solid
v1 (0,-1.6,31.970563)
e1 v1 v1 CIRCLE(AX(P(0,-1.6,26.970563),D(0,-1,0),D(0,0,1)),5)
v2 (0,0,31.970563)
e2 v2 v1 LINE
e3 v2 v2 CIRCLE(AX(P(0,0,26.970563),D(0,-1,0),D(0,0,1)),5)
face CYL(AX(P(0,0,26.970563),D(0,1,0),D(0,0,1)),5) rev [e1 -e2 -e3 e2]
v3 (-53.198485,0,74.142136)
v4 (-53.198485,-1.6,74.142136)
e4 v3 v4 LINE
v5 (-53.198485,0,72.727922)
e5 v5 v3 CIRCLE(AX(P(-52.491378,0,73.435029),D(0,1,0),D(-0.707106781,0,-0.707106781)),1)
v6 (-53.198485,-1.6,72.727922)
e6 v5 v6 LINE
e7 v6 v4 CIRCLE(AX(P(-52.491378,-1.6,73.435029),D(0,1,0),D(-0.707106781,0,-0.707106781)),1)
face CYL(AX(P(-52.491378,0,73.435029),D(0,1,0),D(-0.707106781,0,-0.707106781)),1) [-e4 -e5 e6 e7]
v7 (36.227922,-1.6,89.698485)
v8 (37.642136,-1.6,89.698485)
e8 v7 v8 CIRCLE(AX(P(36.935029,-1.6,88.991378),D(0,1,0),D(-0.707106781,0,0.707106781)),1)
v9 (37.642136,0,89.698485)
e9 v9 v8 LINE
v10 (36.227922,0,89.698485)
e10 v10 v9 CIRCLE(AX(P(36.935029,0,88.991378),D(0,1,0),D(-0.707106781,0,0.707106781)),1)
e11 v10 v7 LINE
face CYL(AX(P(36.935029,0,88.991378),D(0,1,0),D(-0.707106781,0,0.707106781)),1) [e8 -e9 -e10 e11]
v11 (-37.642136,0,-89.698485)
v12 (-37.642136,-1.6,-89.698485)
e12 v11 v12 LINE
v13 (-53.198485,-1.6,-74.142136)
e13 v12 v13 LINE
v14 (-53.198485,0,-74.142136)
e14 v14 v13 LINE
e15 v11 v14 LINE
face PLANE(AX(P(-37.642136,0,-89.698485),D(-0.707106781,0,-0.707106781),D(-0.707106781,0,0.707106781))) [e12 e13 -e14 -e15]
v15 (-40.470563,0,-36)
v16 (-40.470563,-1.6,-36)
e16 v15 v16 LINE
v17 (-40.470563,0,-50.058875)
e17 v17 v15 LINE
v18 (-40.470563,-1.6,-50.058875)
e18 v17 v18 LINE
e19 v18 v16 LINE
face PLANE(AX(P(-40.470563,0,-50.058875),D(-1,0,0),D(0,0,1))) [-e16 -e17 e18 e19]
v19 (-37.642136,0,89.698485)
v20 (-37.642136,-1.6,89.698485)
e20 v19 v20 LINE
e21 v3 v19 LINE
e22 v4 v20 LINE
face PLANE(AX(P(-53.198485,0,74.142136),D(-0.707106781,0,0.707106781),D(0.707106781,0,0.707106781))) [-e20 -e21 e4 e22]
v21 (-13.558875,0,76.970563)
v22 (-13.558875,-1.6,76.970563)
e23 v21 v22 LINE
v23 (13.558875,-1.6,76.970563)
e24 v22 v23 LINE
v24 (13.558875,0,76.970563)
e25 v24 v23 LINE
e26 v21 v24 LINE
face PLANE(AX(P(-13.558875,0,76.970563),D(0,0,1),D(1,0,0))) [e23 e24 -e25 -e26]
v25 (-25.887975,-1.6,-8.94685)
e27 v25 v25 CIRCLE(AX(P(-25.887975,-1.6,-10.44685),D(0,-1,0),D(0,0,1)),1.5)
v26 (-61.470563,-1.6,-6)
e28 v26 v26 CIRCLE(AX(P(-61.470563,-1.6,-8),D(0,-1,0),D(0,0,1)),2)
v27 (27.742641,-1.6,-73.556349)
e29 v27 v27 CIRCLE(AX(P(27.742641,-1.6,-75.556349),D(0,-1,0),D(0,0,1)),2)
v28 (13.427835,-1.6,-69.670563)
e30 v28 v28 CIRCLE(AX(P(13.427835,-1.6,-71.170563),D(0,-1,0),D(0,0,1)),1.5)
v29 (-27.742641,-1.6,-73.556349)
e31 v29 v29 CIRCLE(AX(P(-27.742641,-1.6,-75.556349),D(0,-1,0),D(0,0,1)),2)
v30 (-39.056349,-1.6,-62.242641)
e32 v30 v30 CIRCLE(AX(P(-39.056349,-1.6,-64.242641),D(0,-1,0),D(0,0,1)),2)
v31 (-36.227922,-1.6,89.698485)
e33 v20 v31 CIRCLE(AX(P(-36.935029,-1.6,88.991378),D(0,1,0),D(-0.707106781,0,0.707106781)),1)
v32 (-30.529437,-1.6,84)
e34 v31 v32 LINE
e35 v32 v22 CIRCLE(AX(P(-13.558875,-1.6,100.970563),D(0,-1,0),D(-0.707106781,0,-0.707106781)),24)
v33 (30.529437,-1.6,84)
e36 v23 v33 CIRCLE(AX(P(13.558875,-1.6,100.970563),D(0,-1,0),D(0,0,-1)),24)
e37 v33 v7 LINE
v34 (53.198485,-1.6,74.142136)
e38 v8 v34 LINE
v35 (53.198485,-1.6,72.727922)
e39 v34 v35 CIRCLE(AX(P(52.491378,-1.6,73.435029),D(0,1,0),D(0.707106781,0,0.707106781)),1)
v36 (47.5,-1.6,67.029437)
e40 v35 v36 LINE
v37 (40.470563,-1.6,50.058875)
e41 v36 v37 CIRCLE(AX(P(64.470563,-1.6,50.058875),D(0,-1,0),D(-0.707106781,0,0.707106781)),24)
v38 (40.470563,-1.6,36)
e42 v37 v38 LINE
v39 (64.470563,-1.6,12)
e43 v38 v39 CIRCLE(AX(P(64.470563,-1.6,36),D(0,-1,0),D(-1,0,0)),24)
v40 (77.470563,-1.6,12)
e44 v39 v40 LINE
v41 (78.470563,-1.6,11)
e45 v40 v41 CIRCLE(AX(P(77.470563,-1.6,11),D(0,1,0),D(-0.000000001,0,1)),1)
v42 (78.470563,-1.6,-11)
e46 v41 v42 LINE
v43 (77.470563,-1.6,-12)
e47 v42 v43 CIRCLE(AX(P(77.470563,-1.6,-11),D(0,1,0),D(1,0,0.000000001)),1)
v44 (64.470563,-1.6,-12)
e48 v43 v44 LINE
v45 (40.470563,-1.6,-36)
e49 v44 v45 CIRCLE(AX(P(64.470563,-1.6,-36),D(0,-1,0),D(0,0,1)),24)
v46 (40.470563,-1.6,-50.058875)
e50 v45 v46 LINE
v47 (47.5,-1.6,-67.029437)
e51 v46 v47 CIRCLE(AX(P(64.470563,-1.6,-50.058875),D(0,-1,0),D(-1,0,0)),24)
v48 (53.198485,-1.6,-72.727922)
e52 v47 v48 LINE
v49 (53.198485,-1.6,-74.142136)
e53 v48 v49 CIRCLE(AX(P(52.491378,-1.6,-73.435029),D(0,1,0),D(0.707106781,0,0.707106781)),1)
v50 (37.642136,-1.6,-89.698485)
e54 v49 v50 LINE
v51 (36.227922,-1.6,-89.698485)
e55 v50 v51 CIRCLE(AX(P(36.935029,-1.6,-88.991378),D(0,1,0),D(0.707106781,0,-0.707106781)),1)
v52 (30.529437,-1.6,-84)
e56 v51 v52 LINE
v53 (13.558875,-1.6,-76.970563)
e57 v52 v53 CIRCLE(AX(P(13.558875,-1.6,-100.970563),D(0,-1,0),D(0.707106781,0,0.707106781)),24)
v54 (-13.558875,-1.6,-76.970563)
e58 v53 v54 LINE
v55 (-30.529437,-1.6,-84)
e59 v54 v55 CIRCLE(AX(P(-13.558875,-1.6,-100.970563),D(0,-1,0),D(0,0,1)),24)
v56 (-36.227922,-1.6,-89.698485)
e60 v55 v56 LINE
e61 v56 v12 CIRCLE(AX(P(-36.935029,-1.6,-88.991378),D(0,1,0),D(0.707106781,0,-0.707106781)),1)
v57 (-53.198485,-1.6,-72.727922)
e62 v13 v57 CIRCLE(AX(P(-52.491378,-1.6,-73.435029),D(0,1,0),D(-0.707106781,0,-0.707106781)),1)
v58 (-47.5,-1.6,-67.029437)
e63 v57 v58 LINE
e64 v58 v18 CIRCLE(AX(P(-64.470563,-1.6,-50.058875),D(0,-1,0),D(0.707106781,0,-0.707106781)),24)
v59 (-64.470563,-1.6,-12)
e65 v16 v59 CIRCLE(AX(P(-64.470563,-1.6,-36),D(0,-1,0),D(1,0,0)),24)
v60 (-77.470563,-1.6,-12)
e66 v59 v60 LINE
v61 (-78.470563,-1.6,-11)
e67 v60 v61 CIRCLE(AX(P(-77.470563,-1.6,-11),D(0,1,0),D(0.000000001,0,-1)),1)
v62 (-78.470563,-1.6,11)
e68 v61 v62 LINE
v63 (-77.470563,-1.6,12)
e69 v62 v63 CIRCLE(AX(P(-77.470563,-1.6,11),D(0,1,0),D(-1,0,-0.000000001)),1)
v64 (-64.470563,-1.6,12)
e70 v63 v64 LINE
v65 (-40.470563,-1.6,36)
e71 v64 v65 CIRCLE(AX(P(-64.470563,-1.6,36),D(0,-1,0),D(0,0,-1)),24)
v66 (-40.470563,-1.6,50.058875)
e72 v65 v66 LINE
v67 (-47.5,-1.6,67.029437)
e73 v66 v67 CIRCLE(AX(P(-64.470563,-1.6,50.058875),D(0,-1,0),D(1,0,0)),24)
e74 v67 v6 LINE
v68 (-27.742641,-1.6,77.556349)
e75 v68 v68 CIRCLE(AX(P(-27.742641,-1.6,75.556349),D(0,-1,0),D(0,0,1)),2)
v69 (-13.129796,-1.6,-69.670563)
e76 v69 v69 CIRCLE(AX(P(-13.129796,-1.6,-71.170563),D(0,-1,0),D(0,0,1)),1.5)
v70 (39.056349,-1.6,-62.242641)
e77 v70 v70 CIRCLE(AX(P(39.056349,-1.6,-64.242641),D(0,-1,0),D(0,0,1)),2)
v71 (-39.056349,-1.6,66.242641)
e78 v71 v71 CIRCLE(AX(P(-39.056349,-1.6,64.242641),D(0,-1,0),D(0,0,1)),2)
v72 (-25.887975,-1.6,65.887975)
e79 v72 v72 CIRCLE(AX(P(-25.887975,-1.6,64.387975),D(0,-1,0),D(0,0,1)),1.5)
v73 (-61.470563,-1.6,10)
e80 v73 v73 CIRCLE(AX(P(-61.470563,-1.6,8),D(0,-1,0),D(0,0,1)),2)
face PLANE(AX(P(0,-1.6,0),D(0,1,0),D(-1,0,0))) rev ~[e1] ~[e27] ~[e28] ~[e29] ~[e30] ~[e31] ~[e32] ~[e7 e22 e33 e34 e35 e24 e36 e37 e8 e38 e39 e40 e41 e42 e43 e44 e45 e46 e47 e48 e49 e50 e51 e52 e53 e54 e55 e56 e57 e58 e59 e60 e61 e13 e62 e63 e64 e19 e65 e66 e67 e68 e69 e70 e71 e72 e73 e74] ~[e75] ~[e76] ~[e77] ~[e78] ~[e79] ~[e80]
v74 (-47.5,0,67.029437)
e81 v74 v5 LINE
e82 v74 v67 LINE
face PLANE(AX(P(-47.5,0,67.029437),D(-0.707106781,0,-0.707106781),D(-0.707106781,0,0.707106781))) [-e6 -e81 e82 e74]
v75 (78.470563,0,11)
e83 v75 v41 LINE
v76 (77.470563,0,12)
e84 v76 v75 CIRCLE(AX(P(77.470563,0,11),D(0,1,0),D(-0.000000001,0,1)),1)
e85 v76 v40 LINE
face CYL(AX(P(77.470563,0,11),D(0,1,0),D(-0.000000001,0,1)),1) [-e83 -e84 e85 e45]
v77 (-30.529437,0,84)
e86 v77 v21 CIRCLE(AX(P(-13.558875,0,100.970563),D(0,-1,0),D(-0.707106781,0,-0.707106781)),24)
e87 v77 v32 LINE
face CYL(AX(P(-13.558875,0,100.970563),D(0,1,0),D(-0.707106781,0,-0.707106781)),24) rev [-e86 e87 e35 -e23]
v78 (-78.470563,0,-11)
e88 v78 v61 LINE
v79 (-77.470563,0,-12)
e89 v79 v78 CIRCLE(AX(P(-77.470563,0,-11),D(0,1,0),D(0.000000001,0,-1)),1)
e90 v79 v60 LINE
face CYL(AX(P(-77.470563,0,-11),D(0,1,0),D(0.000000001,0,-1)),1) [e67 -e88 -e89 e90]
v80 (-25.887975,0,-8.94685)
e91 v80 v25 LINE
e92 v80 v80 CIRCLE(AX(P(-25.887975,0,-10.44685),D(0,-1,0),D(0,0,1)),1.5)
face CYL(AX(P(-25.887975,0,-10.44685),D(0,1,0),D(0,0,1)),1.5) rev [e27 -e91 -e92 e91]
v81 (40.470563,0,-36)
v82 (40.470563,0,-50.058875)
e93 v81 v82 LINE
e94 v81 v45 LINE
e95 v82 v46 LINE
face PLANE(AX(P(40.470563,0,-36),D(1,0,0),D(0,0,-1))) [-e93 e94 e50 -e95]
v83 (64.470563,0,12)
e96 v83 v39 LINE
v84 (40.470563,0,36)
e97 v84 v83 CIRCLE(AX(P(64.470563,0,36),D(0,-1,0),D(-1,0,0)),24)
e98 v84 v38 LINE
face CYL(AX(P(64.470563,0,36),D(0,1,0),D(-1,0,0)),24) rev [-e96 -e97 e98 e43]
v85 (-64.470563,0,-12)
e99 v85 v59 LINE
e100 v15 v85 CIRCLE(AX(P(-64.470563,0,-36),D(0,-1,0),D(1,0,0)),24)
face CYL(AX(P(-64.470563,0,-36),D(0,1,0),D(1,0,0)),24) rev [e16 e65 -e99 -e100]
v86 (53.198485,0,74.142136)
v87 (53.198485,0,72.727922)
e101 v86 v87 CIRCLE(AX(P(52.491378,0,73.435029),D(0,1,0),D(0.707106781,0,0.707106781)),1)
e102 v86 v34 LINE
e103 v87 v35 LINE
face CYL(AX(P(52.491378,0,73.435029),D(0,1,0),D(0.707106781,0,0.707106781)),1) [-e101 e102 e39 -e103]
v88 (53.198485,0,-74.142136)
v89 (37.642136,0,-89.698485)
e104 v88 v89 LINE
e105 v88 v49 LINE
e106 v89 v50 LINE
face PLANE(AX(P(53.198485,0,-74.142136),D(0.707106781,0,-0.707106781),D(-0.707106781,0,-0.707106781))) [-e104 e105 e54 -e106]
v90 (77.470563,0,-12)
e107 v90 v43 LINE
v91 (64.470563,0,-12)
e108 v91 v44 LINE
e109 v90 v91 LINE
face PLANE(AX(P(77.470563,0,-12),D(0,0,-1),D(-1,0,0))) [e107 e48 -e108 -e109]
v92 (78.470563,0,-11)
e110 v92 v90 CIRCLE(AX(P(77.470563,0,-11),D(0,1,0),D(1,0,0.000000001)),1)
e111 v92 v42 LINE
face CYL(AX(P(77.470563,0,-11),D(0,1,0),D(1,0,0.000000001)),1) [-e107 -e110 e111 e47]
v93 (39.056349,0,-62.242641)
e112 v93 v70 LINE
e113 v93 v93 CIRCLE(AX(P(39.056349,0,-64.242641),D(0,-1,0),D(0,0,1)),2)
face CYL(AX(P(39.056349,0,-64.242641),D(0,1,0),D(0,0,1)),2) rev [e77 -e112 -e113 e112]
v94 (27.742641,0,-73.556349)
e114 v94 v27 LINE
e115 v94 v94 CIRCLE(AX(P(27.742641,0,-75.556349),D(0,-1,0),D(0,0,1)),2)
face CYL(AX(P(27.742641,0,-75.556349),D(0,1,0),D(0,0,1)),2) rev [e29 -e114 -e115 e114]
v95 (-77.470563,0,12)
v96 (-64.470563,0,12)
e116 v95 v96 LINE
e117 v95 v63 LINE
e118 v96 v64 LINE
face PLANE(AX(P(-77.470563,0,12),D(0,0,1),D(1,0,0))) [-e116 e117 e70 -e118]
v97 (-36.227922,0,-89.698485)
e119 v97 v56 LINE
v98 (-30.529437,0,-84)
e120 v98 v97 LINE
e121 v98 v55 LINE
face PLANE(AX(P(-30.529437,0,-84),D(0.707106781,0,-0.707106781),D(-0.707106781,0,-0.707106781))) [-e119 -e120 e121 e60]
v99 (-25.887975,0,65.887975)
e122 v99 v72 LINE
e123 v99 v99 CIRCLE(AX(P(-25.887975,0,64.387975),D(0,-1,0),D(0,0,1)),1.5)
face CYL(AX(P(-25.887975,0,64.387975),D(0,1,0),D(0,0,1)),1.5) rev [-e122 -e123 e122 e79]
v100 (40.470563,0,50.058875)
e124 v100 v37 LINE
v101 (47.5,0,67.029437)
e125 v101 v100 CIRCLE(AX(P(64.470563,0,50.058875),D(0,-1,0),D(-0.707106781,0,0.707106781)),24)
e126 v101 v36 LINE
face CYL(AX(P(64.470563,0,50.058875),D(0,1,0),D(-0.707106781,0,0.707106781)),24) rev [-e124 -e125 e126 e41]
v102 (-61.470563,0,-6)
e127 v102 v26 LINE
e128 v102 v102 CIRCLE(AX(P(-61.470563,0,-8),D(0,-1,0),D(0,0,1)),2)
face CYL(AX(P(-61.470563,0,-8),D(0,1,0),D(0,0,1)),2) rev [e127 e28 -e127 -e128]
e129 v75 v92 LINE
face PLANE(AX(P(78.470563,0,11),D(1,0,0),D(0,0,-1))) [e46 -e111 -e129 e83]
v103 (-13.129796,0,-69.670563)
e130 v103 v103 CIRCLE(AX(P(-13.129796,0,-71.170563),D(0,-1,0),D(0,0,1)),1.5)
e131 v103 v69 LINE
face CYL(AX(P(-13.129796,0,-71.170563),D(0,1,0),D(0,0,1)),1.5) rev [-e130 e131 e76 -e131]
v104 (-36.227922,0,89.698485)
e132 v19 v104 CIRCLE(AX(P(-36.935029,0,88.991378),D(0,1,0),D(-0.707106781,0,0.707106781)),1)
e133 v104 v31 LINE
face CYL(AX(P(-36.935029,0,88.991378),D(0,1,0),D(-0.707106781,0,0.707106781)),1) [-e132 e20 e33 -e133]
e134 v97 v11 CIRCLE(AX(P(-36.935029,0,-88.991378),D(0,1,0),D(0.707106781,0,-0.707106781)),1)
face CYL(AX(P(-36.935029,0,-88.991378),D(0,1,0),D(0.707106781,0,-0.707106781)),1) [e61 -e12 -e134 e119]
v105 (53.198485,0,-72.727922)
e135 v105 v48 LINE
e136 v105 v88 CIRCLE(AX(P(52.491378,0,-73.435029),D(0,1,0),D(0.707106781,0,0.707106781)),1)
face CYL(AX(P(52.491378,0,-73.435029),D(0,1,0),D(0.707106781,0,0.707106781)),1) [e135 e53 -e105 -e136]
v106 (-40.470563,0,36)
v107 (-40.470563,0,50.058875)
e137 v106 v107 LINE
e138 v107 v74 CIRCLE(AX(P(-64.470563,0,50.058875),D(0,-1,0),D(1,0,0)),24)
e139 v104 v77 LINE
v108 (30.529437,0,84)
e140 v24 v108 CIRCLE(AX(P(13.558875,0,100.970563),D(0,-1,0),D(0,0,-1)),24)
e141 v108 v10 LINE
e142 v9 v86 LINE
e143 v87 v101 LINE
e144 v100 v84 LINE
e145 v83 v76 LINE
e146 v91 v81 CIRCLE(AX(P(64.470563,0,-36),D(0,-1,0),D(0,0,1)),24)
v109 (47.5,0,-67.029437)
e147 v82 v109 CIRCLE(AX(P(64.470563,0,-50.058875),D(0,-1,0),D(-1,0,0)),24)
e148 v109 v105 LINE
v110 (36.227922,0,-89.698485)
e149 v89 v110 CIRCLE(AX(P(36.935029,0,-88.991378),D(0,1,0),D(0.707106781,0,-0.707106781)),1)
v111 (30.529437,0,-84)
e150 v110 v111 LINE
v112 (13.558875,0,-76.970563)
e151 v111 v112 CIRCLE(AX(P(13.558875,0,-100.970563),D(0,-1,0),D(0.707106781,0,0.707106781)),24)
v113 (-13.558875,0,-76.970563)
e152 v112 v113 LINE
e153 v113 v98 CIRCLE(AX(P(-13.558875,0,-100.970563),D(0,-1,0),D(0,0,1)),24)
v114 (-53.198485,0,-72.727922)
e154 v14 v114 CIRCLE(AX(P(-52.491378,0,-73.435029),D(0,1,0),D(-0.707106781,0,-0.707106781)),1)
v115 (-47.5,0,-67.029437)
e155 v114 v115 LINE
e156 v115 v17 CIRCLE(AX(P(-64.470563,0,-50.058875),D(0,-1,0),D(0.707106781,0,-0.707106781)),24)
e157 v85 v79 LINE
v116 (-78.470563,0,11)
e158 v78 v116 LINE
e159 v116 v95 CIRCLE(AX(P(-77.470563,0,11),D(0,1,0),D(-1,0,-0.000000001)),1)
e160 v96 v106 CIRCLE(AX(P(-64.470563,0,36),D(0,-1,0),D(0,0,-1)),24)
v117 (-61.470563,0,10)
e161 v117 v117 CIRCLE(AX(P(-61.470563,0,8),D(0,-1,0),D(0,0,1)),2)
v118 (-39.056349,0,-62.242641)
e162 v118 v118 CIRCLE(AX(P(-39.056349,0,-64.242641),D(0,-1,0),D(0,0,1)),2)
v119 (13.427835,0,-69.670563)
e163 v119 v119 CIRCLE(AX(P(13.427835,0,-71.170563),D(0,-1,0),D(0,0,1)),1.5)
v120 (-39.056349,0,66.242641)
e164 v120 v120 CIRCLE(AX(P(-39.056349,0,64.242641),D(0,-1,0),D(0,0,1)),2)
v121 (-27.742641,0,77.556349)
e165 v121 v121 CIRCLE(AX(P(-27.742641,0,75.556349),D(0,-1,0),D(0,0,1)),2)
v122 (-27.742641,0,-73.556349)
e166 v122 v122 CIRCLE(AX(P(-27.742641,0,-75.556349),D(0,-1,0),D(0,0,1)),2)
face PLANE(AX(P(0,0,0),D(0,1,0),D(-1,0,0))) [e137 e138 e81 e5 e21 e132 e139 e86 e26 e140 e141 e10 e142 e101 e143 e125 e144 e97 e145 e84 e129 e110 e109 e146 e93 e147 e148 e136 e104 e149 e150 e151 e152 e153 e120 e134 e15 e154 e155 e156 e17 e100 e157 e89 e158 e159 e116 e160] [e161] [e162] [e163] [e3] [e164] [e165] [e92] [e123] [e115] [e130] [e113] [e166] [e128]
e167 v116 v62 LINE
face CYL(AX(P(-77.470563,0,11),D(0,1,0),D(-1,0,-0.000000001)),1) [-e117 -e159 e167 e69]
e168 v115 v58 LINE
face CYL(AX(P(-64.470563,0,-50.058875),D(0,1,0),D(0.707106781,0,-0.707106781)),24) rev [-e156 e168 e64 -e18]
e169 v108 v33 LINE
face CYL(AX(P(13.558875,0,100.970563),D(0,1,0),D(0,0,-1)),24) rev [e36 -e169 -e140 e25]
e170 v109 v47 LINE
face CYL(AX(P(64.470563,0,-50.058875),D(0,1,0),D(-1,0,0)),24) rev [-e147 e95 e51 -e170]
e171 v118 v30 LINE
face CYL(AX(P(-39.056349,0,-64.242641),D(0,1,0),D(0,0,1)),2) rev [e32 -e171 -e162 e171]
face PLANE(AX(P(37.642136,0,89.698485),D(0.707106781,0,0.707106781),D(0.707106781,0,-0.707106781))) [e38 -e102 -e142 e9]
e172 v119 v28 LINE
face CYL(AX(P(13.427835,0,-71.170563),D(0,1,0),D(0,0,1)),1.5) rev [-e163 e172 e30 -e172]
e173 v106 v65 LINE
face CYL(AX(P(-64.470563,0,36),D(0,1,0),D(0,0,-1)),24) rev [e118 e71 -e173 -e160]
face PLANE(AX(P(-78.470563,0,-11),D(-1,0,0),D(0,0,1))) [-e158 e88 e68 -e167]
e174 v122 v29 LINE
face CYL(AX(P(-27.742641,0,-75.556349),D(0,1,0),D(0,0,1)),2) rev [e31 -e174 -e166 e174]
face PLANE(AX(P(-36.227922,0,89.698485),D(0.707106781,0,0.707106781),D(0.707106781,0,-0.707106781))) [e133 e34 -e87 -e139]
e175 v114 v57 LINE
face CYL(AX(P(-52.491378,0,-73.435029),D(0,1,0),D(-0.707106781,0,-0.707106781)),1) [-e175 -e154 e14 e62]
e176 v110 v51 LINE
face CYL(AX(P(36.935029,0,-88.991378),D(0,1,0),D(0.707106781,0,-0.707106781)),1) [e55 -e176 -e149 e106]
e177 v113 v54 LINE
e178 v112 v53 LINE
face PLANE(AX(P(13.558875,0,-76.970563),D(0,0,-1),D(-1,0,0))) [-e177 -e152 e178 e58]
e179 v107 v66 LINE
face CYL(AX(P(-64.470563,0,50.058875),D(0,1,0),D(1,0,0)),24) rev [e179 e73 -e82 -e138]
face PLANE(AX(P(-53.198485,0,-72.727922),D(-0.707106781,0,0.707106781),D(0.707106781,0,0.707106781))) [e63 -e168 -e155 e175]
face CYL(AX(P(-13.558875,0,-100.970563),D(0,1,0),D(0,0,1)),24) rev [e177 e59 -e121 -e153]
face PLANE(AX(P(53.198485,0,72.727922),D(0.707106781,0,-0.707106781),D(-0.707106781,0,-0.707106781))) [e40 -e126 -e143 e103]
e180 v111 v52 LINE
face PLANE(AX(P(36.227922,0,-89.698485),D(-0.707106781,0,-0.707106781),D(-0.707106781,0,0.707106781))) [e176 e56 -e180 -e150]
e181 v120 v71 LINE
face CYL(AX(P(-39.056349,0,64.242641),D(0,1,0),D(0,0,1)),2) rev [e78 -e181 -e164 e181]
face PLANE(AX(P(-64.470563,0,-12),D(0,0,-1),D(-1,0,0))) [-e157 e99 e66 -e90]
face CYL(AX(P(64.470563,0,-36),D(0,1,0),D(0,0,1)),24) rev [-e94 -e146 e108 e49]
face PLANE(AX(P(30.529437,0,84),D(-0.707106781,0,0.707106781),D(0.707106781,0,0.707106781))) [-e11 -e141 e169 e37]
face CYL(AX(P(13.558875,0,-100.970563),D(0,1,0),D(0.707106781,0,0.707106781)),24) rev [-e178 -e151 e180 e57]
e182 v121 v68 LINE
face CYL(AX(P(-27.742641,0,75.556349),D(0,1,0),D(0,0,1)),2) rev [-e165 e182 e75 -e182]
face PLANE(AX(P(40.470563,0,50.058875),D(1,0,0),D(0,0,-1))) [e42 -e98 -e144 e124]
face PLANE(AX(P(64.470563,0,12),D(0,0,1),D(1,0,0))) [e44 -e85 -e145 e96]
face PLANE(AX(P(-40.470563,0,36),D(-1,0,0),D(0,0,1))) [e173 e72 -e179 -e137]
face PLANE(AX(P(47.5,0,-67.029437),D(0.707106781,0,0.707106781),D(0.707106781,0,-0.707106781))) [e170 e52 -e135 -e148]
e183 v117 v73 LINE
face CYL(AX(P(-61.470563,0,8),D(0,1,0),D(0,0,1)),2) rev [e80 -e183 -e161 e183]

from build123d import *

# Parameters (mm, degrees)
SKETCH_8_R      = 2
SKETCH_8_R_2    = 5
SKETCH_8_R_3    = 1.5
EXTRUDE_1_DEPTH = 1.6


with BuildPart() as part:
    # 草图8 → 凸台-拉伸1 (new body)
    with BuildSketch(Plane.XZ):
        with BuildLine():
            Line((30.529437252, 84), (36.227922061, 89.69848481))
            ThreePointArc((36.227922061, 89.69848481), (36.935028843, 89.991378029), (37.642135624, 89.69848481))
            Line((37.642135624, 89.69848481), (53.19848481, 74.142135624))
            ThreePointArc((53.19848481, 74.142135624), (53.491378029, 73.435028843), (53.19848481, 72.727922061))
            Line((53.19848481, 72.727922061), (47.5, 67.029437252))
            ThreePointArc((47.5, 67.029437252), (42.297453968, 59.24327688), (40.470562748, 50.058874503))
            Line((40.470562748, 50.058874503), (40.470562748, 36))
            ThreePointArc((40.470562748, 36), (47.5, 19.029437252), (64.470562748, 12))
            Line((64.470562748, 12), (77.470562748, 12))
            ThreePointArc((77.470562748, 12), (78.17766953, 11.707106781), (78.470562748, 11))
            Line((78.470562748, 11), (78.470562748, -11))
            ThreePointArc((78.470562748, -11), (78.17766953, -11.707106781), (77.470562748, -12))
            Line((77.470562748, -12), (64.470562748, -12))
            ThreePointArc((64.470562748, -12), (47.5, -19.029437252), (40.470562748, -36))
            Line((40.470562748, -36), (40.470562748, -50.058874503))
            ThreePointArc((40.470562748, -50.058874503), (42.297453968, -59.24327688), (47.5, -67.029437252))
            Line((47.5, -67.029437252), (53.19848481, -72.727922061))
            ThreePointArc((53.19848481, -72.727922061), (53.491378029, -73.435028843), (53.19848481, -74.142135624))
            Line((53.19848481, -74.142135624), (37.642135624, -89.69848481))
            ThreePointArc((37.642135624, -89.69848481), (36.935028843, -89.991378029), (36.227922061, -89.69848481))
            Line((36.227922061, -89.69848481), (30.529437252, -84))
            ThreePointArc((30.529437252, -84), (22.74327688, -78.797453968), (13.558874503, -76.970562748))
            Line((13.558874503, -76.970562748), (-13.558874503, -76.970562748))
            ThreePointArc((-13.558874503, -76.970562748), (-22.74327688, -78.797453968), (-30.529437252, -84))
            Line((-30.529437252, -84), (-36.227922061, -89.69848481))
            ThreePointArc((-36.227922061, -89.69848481), (-36.935028843, -89.991378029), (-37.642135624, -89.69848481))
            Line((-37.642135624, -89.69848481), (-53.19848481, -74.142135624))
            ThreePointArc((-53.19848481, -74.142135624), (-53.491378029, -73.435028843), (-53.19848481, -72.727922061))
            Line((-53.19848481, -72.727922061), (-47.5, -67.029437252))
            ThreePointArc((-47.5, -67.029437252), (-42.297453968, -59.24327688), (-40.470562748, -50.058874503))
            Line((-40.470562748, -50.058874503), (-40.470562748, -36))
            ThreePointArc((-40.470562748, -36), (-47.5, -19.029437252), (-64.470562748, -12))
            Line((-64.470562748, -12), (-77.470562748, -12))
            ThreePointArc((-77.470562748, -12), (-78.17766953, -11.707106781), (-78.470562748, -11))
            Line((-78.470562748, -11), (-78.470562748, 11))
            ThreePointArc((-78.470562748, 11), (-78.17766953, 11.707106781), (-77.470562748, 12))
            Line((-77.470562748, 12), (-64.470562748, 12))
            ThreePointArc((-64.470562748, 12), (-47.5, 19.029437252), (-40.470562748, 36))
            Line((-40.470562748, 36), (-40.470562748, 50.058874503))
            ThreePointArc((-40.470562748, 50.058874503), (-42.297453968, 59.24327688), (-47.5, 67.029437252))
            Line((-47.5, 67.029437252), (-53.19848481, 72.727922061))
            ThreePointArc((-53.19848481, 72.727922061), (-53.491378029, 73.435028843), (-53.19848481, 74.142135624))
            Line((-53.19848481, 74.142135624), (-37.642135624, 89.69848481))
            ThreePointArc((-37.642135624, 89.69848481), (-36.935028843, 89.991378029), (-36.227922061, 89.69848481))
            Line((-36.227922061, 89.69848481), (-30.529437252, 84))
            ThreePointArc((-30.529437252, 84), (-22.74327688, 78.797453968), (-13.558874503, 76.970562748))
            Line((-13.558874503, 76.970562748), (13.558874503, 76.970562748))
            ThreePointArc((13.558874503, 76.970562748), (22.74327688, 78.797453968), (30.529437252, 84))
        make_face()
        with Locations(Location((-39.056349186, 64.242640687, 0), (0, 0, 90))):
            Circle(SKETCH_8_R, mode=Mode.SUBTRACT)
        with Locations(Location((-27.742640687, 75.556349186, 0), (0, 0, 90))):
            Circle(SKETCH_8_R, mode=Mode.SUBTRACT)
        with Locations(Location((0, 26.970562748, 0), (0, 0, 90))):
            Circle(SKETCH_8_R_2, mode=Mode.SUBTRACT)
        with Locations(Location((-61.470562748, 8, 0), (0, 0, 90))):
            Circle(SKETCH_8_R, mode=Mode.SUBTRACT)
        with Locations(Location((-25.887975085, -10.446849588, 0), (0, 0, 90))):
            Circle(SKETCH_8_R_3, mode=Mode.SUBTRACT)
        with Locations(Location((-25.887975085, 64.387975085, 0), (0, 0, 90))):
            Circle(SKETCH_8_R_3, mode=Mode.SUBTRACT)
        with Locations(Location((27.742640687, -75.556349186, 0), (0, 0, 90))):
            Circle(SKETCH_8_R, mode=Mode.SUBTRACT)
        with Locations(Location((39.056349186, -64.242640687, 0), (0, 0, 90))):
            Circle(SKETCH_8_R, mode=Mode.SUBTRACT)
        with Locations(Location((-27.742640687, -75.556349186, 0), (0, 0, 90))):
            Circle(SKETCH_8_R, mode=Mode.SUBTRACT)
        with Locations(Location((-39.056349186, -64.242640687, 0), (0, 0, 90))):
            Circle(SKETCH_8_R, mode=Mode.SUBTRACT)
        with Locations(Location((13.427835179, -71.170562748, 0), (0, 0, 90))):
            Circle(SKETCH_8_R_3, mode=Mode.SUBTRACT)
        with Locations(Location((-13.1297961, -71.170562748, 0), (0, 0, 90))):
            Circle(SKETCH_8_R_3, mode=Mode.SUBTRACT)
        with Locations(Location((-61.470562748, -8, 0), (0, 0, 90))):
            Circle(SKETCH_8_R, mode=Mode.SUBTRACT)
    extrude(amount=EXTRUDE_1_DEPTH)


solid = part.part
